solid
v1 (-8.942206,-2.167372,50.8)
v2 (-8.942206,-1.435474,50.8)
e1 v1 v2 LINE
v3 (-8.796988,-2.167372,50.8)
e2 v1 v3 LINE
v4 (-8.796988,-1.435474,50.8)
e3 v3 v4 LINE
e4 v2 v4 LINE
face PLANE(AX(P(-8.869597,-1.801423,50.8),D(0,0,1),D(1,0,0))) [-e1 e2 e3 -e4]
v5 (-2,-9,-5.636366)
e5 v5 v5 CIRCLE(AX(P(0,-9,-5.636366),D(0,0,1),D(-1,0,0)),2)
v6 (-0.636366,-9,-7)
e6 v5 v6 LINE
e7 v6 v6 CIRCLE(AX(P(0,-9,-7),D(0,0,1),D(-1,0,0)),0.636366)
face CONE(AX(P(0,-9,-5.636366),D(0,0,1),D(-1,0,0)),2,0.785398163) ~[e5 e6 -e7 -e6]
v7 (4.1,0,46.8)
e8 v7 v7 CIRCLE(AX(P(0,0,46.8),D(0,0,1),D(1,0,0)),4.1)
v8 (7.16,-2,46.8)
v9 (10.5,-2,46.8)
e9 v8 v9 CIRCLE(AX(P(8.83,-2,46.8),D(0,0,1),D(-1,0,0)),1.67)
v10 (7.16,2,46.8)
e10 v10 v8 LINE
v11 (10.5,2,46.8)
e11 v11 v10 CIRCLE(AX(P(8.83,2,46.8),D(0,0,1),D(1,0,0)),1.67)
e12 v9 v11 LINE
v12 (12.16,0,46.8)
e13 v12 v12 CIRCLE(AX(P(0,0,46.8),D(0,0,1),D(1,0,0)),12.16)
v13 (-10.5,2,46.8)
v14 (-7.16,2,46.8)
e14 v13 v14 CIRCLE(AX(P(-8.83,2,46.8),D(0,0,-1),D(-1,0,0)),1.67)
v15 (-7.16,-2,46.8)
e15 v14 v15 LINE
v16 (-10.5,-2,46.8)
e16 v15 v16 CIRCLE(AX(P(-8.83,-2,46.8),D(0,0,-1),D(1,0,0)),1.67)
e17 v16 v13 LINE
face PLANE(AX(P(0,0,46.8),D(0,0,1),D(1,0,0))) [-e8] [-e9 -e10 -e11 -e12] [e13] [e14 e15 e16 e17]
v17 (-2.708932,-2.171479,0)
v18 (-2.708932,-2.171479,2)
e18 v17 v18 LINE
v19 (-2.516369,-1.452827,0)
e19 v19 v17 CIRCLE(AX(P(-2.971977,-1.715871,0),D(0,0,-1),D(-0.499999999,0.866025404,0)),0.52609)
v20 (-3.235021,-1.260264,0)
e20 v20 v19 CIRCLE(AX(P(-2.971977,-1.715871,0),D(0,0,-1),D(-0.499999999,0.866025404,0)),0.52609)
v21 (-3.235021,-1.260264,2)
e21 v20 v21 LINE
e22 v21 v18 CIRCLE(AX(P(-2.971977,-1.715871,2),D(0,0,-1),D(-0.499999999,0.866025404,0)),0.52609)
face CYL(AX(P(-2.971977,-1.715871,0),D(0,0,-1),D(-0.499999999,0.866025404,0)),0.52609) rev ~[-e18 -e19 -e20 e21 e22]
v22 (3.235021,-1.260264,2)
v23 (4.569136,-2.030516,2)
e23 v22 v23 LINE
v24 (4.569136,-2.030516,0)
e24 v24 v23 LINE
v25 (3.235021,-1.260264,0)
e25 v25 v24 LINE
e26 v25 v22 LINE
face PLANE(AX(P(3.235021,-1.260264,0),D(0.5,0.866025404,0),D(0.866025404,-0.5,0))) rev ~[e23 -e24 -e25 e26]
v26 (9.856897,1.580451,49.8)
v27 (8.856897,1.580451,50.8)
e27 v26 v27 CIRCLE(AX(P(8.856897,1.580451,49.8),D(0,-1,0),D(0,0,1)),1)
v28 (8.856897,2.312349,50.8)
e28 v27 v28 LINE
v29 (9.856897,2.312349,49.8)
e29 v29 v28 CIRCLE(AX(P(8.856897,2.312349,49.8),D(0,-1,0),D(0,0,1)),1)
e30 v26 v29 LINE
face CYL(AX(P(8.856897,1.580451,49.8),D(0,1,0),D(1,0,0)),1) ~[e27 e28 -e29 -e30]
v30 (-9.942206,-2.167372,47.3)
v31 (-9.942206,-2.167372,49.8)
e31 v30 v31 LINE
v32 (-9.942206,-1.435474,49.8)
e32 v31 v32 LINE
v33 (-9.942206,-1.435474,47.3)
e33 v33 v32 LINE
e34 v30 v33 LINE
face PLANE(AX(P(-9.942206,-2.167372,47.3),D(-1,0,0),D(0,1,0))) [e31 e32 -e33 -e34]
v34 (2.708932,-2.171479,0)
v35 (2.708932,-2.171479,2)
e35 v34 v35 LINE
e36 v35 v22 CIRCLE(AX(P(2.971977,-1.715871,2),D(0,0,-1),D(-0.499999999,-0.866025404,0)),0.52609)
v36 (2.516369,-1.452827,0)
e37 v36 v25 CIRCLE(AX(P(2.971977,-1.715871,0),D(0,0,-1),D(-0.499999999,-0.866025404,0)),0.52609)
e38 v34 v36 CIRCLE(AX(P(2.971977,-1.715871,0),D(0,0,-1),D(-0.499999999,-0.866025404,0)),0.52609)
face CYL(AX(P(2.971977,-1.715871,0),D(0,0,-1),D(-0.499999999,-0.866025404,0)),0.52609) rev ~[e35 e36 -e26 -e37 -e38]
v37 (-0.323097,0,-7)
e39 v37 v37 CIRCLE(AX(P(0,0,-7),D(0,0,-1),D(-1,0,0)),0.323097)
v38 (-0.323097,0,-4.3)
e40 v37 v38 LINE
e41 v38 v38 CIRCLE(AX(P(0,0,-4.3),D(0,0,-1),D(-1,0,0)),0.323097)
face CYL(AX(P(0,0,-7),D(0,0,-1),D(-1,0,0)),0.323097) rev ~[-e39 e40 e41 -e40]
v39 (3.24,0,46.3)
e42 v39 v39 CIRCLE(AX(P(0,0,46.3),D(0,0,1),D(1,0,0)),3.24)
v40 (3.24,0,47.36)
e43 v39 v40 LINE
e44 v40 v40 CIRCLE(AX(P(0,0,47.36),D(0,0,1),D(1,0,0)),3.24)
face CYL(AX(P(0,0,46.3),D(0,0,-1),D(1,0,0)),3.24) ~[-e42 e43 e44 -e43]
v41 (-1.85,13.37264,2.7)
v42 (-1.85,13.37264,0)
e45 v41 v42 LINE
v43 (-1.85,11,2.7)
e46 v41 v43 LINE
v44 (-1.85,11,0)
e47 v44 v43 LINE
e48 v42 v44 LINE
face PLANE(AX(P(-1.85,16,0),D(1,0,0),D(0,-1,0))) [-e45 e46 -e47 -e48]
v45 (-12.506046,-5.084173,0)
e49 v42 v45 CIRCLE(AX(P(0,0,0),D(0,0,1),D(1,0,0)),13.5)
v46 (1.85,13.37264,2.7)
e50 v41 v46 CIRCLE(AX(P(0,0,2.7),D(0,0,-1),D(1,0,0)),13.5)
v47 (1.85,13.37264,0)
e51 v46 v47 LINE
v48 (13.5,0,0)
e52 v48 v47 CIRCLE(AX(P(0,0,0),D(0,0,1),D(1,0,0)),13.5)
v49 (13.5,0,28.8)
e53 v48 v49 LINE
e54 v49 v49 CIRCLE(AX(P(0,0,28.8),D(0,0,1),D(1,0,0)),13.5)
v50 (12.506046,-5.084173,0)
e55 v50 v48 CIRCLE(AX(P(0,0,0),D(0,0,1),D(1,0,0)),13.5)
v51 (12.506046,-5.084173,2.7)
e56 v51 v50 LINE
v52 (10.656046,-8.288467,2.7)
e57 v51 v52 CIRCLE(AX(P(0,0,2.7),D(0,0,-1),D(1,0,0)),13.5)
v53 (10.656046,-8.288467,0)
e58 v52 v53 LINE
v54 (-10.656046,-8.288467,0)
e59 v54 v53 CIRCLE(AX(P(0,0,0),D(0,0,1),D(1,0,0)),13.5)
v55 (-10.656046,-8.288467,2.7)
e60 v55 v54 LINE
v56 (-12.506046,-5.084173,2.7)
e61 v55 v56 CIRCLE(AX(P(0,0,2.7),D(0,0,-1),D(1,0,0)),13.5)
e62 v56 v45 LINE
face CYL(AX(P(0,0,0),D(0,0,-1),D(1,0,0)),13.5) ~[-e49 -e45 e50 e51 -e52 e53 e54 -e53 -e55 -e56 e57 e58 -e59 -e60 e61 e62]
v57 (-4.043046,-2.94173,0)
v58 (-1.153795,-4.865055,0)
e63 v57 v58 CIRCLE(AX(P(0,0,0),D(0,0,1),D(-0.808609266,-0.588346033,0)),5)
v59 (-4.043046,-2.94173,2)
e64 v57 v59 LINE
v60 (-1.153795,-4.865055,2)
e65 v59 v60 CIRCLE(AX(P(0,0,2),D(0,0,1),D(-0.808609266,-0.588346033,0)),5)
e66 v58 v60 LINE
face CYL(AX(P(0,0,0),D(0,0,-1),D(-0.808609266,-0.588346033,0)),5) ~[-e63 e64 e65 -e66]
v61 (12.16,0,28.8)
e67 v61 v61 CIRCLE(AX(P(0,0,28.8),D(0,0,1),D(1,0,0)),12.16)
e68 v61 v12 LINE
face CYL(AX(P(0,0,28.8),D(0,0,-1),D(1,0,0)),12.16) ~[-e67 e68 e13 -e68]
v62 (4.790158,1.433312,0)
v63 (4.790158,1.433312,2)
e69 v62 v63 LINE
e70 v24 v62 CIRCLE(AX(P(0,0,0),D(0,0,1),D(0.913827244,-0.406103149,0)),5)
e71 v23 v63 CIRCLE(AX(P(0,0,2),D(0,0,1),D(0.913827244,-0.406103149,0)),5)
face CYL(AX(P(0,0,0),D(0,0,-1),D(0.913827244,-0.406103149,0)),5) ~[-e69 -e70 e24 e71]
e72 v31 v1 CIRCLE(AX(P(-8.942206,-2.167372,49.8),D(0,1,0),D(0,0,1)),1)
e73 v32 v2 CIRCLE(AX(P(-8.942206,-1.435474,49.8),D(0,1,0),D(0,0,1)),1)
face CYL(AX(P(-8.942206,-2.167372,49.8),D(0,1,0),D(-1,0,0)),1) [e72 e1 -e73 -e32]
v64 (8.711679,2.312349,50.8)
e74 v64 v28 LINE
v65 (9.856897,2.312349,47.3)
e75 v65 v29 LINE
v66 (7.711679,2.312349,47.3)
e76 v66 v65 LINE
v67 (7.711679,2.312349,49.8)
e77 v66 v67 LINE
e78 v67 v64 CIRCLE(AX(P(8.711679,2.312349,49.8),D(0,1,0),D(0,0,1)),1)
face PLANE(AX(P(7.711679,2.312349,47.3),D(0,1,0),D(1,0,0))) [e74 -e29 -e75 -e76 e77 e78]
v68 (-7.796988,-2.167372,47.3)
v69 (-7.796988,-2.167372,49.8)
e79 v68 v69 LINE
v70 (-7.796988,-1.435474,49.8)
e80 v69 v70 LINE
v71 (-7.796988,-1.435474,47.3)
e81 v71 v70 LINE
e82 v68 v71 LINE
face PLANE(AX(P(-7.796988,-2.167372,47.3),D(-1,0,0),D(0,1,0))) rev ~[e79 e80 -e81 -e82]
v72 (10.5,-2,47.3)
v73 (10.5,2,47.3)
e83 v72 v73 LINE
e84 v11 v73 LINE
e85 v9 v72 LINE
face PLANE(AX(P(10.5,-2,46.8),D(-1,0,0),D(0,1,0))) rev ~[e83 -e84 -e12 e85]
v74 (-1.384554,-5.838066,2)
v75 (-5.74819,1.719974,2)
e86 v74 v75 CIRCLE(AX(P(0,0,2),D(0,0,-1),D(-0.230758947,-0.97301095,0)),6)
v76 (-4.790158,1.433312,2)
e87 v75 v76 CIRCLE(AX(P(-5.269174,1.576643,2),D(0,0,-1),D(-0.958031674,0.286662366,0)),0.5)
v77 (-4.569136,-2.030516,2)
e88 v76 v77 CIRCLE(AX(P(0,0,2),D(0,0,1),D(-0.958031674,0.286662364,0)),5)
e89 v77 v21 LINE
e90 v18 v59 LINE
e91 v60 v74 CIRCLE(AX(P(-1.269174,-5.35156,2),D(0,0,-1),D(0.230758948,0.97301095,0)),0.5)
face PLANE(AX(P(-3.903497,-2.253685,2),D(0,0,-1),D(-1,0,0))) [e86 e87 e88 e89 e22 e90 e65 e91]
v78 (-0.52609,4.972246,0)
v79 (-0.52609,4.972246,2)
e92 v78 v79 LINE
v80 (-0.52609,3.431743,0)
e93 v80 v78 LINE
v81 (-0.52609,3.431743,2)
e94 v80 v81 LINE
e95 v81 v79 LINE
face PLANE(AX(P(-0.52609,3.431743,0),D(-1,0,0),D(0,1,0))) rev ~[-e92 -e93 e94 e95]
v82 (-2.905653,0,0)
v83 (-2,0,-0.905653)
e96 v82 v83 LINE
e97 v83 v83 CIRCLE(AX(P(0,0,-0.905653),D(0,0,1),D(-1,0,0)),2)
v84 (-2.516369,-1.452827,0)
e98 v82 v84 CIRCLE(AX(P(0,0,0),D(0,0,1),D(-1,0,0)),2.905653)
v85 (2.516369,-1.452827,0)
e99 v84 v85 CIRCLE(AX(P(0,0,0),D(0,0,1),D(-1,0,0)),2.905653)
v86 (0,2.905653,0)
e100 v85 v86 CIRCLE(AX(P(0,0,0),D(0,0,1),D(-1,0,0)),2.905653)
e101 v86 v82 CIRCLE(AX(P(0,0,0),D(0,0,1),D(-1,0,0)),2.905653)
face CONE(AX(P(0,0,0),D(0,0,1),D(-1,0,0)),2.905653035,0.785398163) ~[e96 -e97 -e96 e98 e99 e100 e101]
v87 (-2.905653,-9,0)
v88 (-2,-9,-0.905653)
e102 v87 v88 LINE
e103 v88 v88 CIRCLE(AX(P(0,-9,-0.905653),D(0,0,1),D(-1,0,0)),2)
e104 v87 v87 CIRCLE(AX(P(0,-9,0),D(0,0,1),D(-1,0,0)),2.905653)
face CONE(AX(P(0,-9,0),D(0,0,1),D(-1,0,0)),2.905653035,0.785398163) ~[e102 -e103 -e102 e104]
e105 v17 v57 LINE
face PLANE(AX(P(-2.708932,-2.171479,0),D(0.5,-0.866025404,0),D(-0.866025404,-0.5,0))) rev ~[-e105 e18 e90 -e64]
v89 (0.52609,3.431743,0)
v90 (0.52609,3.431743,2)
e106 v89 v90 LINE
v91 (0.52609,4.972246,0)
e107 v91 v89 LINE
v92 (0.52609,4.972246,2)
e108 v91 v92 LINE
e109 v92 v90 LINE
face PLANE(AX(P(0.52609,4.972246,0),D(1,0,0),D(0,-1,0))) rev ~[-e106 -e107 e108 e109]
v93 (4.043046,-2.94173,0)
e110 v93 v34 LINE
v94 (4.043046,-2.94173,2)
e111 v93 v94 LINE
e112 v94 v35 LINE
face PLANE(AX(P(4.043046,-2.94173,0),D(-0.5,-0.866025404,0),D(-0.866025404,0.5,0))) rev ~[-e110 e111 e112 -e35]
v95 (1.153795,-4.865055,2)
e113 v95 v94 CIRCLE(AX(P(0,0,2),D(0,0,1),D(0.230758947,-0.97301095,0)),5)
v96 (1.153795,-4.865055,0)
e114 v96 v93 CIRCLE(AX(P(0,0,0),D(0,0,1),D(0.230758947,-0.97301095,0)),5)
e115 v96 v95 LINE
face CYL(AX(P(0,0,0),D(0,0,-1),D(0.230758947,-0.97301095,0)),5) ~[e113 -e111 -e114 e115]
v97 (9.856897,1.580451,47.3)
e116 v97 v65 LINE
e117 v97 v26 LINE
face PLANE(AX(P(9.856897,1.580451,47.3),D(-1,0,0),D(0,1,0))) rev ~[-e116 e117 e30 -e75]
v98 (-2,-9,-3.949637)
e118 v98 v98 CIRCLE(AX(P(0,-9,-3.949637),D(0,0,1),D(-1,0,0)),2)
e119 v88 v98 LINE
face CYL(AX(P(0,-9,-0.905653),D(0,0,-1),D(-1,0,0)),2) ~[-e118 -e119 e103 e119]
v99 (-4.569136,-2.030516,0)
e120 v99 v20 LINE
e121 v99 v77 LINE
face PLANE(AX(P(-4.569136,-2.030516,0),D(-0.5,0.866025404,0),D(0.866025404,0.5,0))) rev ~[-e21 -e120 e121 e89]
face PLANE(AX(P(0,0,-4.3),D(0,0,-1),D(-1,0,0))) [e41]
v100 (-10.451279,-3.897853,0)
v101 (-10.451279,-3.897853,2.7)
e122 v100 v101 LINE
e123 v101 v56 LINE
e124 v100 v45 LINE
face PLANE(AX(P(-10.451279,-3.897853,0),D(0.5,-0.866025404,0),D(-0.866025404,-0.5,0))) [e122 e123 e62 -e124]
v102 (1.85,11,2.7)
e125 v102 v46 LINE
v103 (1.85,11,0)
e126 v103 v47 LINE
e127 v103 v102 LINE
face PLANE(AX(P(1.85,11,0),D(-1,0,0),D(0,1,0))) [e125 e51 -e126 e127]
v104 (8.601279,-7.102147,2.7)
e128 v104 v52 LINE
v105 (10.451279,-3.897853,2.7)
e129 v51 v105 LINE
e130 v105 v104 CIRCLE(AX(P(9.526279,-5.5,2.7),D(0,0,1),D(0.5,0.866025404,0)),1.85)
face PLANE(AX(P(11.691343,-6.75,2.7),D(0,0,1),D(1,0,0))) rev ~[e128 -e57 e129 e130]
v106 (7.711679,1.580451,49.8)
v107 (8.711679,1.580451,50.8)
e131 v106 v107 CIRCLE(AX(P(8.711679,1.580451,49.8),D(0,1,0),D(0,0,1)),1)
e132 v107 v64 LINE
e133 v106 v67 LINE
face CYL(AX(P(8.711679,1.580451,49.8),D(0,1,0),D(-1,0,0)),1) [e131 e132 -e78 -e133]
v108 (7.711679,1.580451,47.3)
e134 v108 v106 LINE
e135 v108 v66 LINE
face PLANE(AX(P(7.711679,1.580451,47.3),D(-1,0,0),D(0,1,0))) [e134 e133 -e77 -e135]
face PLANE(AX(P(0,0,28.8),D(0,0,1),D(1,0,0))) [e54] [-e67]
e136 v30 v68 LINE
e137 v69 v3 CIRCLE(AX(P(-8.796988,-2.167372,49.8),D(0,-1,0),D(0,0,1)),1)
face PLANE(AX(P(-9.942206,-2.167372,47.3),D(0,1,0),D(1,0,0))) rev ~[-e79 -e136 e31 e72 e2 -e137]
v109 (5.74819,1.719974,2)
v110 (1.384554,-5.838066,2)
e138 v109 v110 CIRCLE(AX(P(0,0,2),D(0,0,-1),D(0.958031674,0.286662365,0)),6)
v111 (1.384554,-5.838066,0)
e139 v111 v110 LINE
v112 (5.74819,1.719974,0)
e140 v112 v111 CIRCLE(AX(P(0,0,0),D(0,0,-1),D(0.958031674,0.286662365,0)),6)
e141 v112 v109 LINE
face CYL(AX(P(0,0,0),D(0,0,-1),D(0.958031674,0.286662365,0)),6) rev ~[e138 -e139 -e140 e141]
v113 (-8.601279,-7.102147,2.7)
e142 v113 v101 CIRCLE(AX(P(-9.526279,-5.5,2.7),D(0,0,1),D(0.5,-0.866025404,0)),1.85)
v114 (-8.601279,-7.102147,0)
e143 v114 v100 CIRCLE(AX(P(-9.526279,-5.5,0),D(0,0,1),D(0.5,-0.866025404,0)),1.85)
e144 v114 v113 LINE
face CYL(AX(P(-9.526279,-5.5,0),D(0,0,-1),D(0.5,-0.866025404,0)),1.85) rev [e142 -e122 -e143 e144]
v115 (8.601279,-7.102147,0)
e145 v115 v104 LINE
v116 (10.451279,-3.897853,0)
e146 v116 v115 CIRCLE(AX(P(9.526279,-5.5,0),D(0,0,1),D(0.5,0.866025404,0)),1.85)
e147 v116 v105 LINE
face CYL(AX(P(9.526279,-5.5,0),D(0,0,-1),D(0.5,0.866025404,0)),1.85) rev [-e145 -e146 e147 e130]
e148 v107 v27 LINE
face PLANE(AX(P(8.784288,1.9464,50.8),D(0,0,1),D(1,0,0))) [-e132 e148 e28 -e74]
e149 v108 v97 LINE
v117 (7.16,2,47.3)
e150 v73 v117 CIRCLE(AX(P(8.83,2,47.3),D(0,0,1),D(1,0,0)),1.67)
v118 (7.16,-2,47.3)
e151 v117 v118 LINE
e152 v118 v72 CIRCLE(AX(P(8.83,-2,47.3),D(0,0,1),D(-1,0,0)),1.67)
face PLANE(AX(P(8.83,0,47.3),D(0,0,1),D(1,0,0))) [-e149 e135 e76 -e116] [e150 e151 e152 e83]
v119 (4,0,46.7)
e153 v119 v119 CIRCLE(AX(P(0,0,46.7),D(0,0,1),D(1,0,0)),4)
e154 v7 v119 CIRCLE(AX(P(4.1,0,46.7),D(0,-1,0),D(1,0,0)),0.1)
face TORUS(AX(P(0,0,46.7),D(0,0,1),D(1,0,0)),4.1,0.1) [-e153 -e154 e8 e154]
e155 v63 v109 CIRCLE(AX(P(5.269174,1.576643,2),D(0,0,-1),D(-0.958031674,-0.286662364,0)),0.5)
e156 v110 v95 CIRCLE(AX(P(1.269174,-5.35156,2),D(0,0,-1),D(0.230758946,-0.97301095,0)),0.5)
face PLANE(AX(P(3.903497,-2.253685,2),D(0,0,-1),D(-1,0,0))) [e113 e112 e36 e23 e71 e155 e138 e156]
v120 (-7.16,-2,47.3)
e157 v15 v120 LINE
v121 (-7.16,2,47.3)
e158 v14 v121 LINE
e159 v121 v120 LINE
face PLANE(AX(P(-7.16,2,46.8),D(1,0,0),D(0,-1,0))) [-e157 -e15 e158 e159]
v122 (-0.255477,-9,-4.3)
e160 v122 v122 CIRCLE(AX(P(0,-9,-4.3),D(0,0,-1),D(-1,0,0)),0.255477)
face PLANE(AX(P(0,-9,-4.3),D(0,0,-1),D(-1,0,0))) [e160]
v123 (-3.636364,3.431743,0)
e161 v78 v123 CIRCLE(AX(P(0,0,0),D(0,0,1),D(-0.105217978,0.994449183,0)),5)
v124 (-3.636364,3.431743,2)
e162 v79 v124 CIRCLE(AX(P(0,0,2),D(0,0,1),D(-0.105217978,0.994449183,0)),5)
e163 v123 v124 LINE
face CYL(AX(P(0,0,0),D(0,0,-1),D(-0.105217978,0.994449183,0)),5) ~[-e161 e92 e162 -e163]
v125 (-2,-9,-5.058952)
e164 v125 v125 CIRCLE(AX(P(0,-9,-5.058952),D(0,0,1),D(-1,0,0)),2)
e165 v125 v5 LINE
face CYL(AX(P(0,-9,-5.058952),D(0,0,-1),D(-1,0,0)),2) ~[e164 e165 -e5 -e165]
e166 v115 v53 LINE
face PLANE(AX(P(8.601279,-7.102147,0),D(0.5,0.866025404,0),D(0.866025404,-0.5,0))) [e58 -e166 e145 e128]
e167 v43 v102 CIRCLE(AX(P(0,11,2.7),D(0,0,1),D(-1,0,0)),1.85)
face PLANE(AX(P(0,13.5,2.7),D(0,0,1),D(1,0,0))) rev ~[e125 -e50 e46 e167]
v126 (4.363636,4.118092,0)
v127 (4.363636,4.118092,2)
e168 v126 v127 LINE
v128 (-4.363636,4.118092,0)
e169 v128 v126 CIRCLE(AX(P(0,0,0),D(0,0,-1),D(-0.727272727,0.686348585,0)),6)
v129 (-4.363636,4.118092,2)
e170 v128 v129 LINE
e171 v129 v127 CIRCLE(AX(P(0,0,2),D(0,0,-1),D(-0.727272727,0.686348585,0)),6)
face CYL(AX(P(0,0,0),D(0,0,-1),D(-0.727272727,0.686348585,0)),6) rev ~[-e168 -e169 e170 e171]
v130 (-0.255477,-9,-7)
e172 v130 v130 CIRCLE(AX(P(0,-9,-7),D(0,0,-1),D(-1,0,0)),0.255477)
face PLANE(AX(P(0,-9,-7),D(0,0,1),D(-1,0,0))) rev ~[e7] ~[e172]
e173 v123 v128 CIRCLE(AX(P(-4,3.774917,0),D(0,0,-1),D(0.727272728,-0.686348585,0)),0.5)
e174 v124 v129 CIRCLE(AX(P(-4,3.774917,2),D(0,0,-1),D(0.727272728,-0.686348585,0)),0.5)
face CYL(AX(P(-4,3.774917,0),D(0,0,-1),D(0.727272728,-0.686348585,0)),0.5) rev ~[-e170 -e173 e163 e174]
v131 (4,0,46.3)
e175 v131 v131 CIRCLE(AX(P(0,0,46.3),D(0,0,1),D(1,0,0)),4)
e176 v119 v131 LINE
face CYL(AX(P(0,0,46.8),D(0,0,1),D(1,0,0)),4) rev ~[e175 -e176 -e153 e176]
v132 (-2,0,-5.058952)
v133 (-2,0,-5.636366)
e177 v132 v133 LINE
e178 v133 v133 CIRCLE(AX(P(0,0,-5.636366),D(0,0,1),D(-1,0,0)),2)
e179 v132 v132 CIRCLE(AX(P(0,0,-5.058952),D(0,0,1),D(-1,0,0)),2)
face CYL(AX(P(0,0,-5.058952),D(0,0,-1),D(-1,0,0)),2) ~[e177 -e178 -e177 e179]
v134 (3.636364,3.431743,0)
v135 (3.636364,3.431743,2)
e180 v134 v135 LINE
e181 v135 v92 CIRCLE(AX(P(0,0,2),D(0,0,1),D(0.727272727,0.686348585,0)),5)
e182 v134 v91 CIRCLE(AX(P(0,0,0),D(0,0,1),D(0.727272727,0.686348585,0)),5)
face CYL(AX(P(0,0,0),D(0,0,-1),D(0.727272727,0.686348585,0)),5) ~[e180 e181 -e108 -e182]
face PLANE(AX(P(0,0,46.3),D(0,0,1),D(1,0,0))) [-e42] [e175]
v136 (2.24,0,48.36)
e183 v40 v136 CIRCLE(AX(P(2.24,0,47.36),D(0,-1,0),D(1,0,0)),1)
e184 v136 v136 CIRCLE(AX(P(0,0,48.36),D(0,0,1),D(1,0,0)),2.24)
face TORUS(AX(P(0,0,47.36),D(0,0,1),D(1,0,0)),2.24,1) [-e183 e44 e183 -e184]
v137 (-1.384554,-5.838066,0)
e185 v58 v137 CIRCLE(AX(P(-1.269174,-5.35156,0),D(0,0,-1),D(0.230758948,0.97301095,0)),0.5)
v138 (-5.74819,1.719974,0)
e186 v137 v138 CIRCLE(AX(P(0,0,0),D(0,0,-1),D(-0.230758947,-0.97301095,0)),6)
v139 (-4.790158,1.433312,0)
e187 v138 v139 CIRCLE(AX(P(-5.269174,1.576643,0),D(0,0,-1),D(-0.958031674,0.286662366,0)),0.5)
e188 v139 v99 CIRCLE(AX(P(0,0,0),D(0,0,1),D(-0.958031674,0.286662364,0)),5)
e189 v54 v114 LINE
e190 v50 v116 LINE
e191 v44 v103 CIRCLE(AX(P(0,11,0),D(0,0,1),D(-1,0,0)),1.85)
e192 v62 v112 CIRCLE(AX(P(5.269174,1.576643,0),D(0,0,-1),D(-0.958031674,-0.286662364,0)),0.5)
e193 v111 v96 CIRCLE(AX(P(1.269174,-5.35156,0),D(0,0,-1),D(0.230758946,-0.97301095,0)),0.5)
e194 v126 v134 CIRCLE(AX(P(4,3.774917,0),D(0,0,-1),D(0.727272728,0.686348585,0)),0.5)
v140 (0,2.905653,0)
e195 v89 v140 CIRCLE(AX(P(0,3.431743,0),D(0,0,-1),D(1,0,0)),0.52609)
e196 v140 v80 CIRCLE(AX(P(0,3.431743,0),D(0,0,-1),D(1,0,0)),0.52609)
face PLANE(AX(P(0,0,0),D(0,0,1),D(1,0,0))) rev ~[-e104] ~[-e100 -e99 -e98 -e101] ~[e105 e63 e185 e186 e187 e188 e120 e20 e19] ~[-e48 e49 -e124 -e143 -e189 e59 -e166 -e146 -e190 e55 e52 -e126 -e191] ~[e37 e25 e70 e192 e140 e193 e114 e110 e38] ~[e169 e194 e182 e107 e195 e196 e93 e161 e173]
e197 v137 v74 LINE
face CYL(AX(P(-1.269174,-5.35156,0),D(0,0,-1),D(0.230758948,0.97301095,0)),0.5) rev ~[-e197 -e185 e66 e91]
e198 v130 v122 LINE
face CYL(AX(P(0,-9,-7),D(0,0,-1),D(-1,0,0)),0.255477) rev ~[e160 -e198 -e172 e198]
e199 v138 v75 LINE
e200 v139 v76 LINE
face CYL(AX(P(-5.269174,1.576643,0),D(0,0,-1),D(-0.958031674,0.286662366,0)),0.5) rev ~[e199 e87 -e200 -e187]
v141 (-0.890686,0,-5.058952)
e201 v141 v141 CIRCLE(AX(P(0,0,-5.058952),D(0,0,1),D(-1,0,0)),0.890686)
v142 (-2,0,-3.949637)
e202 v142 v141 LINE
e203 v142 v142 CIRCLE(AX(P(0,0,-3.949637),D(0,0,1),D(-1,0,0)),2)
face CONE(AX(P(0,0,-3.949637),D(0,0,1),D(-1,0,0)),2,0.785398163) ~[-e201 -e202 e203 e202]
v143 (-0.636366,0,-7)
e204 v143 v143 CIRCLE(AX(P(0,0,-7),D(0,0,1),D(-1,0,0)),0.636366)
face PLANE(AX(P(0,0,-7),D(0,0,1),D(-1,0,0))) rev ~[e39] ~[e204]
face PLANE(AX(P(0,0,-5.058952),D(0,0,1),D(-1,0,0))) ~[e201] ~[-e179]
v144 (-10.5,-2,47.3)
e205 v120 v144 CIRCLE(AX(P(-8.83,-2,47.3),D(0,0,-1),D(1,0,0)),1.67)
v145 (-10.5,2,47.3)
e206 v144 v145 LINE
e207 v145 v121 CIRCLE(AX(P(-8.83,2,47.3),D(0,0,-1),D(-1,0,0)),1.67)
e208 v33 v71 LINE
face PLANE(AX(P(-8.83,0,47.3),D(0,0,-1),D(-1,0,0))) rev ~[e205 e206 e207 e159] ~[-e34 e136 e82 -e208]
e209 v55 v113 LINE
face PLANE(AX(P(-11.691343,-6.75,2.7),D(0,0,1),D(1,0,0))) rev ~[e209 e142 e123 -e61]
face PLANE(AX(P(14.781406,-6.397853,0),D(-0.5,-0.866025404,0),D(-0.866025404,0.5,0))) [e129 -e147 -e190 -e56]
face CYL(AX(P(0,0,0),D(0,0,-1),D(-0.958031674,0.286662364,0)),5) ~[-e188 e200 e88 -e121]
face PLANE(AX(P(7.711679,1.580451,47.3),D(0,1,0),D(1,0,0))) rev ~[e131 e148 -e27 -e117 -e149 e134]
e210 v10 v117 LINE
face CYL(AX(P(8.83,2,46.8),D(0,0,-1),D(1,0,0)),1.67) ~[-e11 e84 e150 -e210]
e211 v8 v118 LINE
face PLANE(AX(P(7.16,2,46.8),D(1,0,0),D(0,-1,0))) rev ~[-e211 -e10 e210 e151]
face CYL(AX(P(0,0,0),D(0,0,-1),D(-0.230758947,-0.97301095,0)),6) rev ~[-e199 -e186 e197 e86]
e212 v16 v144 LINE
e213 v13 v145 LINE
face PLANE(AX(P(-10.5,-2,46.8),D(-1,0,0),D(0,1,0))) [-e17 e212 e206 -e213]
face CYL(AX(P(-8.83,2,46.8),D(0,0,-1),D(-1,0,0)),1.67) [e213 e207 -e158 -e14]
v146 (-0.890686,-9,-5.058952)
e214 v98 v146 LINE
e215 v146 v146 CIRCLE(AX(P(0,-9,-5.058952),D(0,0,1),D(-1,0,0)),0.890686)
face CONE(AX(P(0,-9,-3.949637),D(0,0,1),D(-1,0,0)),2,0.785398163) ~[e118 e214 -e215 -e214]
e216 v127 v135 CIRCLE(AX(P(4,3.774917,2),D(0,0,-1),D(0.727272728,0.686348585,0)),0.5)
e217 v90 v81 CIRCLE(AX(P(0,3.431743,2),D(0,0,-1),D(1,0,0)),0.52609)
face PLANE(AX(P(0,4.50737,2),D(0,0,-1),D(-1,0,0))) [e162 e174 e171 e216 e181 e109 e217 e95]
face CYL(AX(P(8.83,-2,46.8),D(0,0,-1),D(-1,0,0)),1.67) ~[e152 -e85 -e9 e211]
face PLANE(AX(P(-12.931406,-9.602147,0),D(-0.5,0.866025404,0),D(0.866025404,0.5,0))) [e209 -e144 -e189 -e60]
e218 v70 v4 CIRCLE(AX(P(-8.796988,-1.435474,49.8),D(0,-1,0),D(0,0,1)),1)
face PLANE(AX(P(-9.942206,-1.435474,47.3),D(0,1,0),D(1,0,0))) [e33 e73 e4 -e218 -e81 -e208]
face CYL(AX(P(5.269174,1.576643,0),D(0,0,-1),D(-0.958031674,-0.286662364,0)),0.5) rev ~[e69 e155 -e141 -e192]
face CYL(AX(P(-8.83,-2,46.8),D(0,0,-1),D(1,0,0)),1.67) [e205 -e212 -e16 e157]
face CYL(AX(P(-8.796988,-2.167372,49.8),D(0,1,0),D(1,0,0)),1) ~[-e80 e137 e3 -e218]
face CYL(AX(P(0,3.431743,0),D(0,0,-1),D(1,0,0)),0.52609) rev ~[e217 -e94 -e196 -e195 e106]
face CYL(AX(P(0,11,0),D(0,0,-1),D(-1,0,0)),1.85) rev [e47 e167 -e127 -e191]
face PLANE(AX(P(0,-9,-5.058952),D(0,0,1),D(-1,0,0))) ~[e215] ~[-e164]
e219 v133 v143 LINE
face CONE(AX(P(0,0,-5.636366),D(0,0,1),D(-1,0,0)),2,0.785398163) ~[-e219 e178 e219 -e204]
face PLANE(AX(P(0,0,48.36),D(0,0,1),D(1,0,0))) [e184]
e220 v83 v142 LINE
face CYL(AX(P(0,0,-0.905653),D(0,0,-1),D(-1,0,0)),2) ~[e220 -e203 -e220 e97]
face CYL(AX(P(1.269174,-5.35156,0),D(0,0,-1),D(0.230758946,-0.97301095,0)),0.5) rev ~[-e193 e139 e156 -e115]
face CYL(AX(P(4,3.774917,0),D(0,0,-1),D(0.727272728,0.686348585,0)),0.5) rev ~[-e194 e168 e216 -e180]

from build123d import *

# Parameters (mm, degrees)
SKETCH_1_R             = 13.5
EXTRUDE_1_DEPTH        = 28.8
SKETCH_2_R             = 12.16
EXTRUDE_2_DEPTH        = 18
SKETCH_3_R             = 4
CUT_EXTRUDE_1_DEPTH    = 0.5
SKETCH_4_R             = 3.24
EXTRUDE_3_DEPTH        = 2.06
FILLET_1_R             = 0.1
FILLET_2_R             = 1
EXTRUDE_4_DEPTH        = 0.5
SKETCH_6_W             = 2.145218315
SKETCH_6_H             = 0.731898013
SKETCH_6_W_2           = 2.145218314
SKETCH_6_H_2           = 0.731898014
EXTRUDE_5_DEPTH        = 3.5
FILLET_3_R             = 1
CUT_EXTRUDE_2_DEPTH    = 2.7
PATTERN_LINEAR_1_COUNT = 2
PATTERN_LINEAR_1_PITCH = 9
SKETCH_10_R            = 0.323097308
CUT_EXTRUDE_3_DEPTH    = 2.7
SKETCH_13_R            = 0.255477279
CUT_EXTRUDE_4_DEPTH    = 2.7
CUT_EXTRUDE_5_DEPTH    = 2


with BuildPart() as part:
    # 草图1 → 凸台-拉伸1 (new body)
    with BuildSketch(Plane.XY):
        Circle(SKETCH_1_R)
    extrude(amount=EXTRUDE_1_DEPTH)

    # 草图2 → 凸台-拉伸2 (add)
    with BuildSketch(Plane.XY.offset(28.8)):
        Circle(SKETCH_2_R)
    extrude(amount=EXTRUDE_2_DEPTH)

    # 草图3 → 切除-拉伸1 (cut)
    with BuildSketch(Plane.XY.offset(46.8)):
        Circle(SKETCH_3_R)
    extrude(amount=-CUT_EXTRUDE_1_DEPTH, mode=Mode.SUBTRACT)

    # 草图4 → 凸台-拉伸3 (add)
    with BuildSketch(Plane.XY.offset(46.3)):
        Circle(SKETCH_4_R)
    extrude(amount=EXTRUDE_3_DEPTH)

    # 圆角1
    fillet_1_edges = [part.edges().sort_by_distance(p)[0] for p in [
        (-4, 0, 46.8),
    ]]
    fillet(fillet_1_edges, radius=FILLET_1_R)

    # 圆角2
    fillet_2_edges = [part.edges().sort_by_distance(p)[0] for p in [
        (-3.24, 0, 48.36),
    ]]
    fillet(fillet_2_edges, radius=FILLET_2_R)

    # 草图5 → 凸台-拉伸4 (add)
    with BuildSketch(Plane.XY.offset(46.8)):
        with BuildLine():
            Line((-7.16, 2), (-7.16, -2))
            ThreePointArc((-7.16, -2), (-8.83, -3.67), (-10.5, -2))
            Line((-10.5, -2), (-10.5, 2))
            ThreePointArc((-10.5, 2), (-8.83, 3.67), (-7.16, 2))
        make_face()
        with BuildLine():
            Line((7.16, 2), (7.16, -2))
            ThreePointArc((7.16, -2), (8.83, -3.67), (10.5, -2))
            Line((10.5, -2), (10.5, 2))
            ThreePointArc((10.5, 2), (8.83, 3.67), (7.16, 2))
        make_face()
    extrude(amount=EXTRUDE_4_DEPTH)

    # 草图6 → 凸台-拉伸5 (add)
    with BuildSketch(Plane.XY.offset(47.3)):
        with Locations((-8.86959666, -1.801422961)):
            Rectangle(SKETCH_6_W, SKETCH_6_H)
        with Locations((8.784288178, 1.946399625)):
            Rectangle(SKETCH_6_W_2, SKETCH_6_H_2)
    extrude(amount=EXTRUDE_5_DEPTH)

    # 圆角3
    fillet_3_edges = [part.edges().sort_by_distance(p)[0] for p in [
        (7.711679021, 1.946399625, 50.8),
        (9.856897335, 1.946399625, 50.8),
        (-9.942205817, -1.80142296, 50.8),
        (-7.796987502, -1.80142296, 50.8),
    ]]
    fillet(fillet_3_edges, radius=FILLET_3_R)

    # 草图7 → 切除-拉伸2 (cut)
    with BuildSketch(Plane(origin=(0, 0, 0), x_dir=(-1, 0, 0), z_dir=(0, 0, -1))):
        with BuildLine():
            Line((1.85, 16), (1.85, 11))
            ThreePointArc((1.85, 11), (0, 9.15), (-1.85, 11))
            Line((-1.85, 11), (-1.85, 16))
            ThreePointArc((-1.85, 16), (0, 17.85), (1.85, 16))
        make_face()
        with BuildLine():
            Line((12.931406461, -9.602146997), (8.601279442, -7.102146997))
            ThreePointArc((8.601279442, -7.102146997), (7.924132445, -4.575), (10.451279442, -3.897853003))
            Line((10.451279442, -3.897853003), (14.781406461, -6.397853003))
            ThreePointArc((14.781406461, -6.397853003), (15.458553458, -8.925), (12.931406461, -9.602146997))
        make_face()
        with BuildLine():
            Line((-14.781406461, -6.397853003), (-10.451279442, -3.897853003))
            ThreePointArc((-10.451279442, -3.897853003), (-7.924132445, -4.575), (-8.601279442, -7.102146997))
            Line((-8.601279442, -7.102146997), (-12.931406461, -9.602146997))
            ThreePointArc((-12.931406461, -9.602146997), (-15.458553458, -8.925), (-14.781406461, -6.397853003))
        make_face()
    extrude(amount=-CUT_EXTRUDE_2_DEPTH, mode=Mode.SUBTRACT)

    # 草图9 → 旋转1 (revolve)
    with BuildSketch(Plane(origin=(0, 0, 0), x_dir=(1, 0, 0), z_dir=(0, 1, 0))):
        Polygon((0, 7), (0, 0), (-2.905653035, 0), (-2, 0.905653035), (-2, 3.949637413), (-0.890685833, 5.05895158), (-2, 5.05895158), (-2, 5.636365699), (-0.636365699, 7), align=None)
    revolve_1 = revolve(axis=Axis((0, 0, -8.873463159), (0, 0, 1)))

    # 阵列(线性)1: 旋转1 ×2
    with Locations(*[(0, -i * PATTERN_LINEAR_1_PITCH, 0) for i in range(1, PATTERN_LINEAR_1_COUNT)]):
        add(revolve_1)

    # 草图10 → 切除-拉伸3 (cut)
    with BuildSketch(Plane(origin=(0, 0, -7), x_dir=(-1, 0, 0), z_dir=(0, 0, -1))):
        Circle(SKETCH_10_R)
    extrude(amount=-CUT_EXTRUDE_3_DEPTH, mode=Mode.SUBTRACT)

    # 草图13 → 切除-拉伸4 (cut)
    with BuildSketch(Plane(origin=(0, 0, -7), x_dir=(-1, 0, 0), z_dir=(0, 0, -1))):
        with Locations((0, -9)):
            Circle(SKETCH_13_R)
    extrude(amount=-CUT_EXTRUDE_4_DEPTH, mode=Mode.SUBTRACT)

    # 草图14 → 切除-拉伸5 (cut)
    with BuildSketch(Plane(origin=(0, 0, 0), x_dir=(-1, 0, 0), z_dir=(0, 0, -1))):
        with BuildLine():
            Line((-0.52608989, 4.972245914), (-0.52608989, 3.431742925))
            ThreePointArc((-0.52608989, 3.431742925), (0, 2.905653035), (0.52608989, 3.431742925))
            Line((0.52608989, 3.431742925), (0.52608989, 4.972245914))
            ThreePointArc((0.52608989, 4.972245914), (2.219187285, 4.480536552), (3.636363636, 3.431742925))
            ThreePointArc((3.636363636, 3.431742925), (4.343174293, 3.411280854), (4.363636364, 4.11809151))
            ThreePointArc((4.363636364, 4.11809151), (0, 6), (-4.363636364, 4.11809151))
            ThreePointArc((-4.363636364, 4.11809151), (-4.343174293, 3.411280854), (-3.636363636, 3.431742925))
            ThreePointArc((-3.636363636, 3.431742925), (-2.219187285, 4.480536552), (-0.52608989, 4.972245914))
        make_face()
        with BuildLine():
            Line((2.708931608, -2.171478672), (4.04304633, -2.941730166))
            ThreePointArc((4.04304633, -2.941730166), (2.770664835, -4.16214084), (1.153794734, -4.865054749))
            ThreePointArc((1.153794734, -4.865054749), (0.782668733, -5.466939697), (1.384553681, -5.838065699))
            ThreePointArc((1.384553681, -5.838065699), (5.196152423, -3), (5.748190045, 1.719974189))
            ThreePointArc((5.748190045, 1.719974189), (5.125843025, 2.055658843), (4.790158371, 1.433311824))
            ThreePointArc((4.790158371, 1.433311824), (4.989852119, -0.318395712), (4.56913622, -2.030515748))
            Line((4.56913622, -2.030515748), (3.235021497, -1.260264253))
            ThreePointArc((3.235021497, -1.260264253), (2.516369343, -1.452826518), (2.708931608, -2.171478672))
        make_face()
        with BuildLine():
            Line((-3.235021497, -1.260264253), (-4.56913622, -2.030515748))
            ThreePointArc((-4.56913622, -2.030515748), (-4.989852119, -0.318395712), (-4.790158371, 1.433311824))
            ThreePointArc((-4.790158371, 1.433311824), (-5.125843025, 2.055658843), (-5.748190045, 1.719974189))
            ThreePointArc((-5.748190045, 1.719974189), (-5.196152423, -3), (-1.384553681, -5.838065699))
            ThreePointArc((-1.384553681, -5.838065699), (-0.782668733, -5.466939697), (-1.153794734, -4.865054749))
            ThreePointArc((-1.153794734, -4.865054749), (-2.770664835, -4.16214084), (-4.04304633, -2.941730166))
            Line((-4.04304633, -2.941730166), (-2.708931608, -2.171478672))
            ThreePointArc((-2.708931608, -2.171478672), (-2.516369343, -1.452826518), (-3.235021497, -1.260264253))
        make_face()
    extrude(amount=-CUT_EXTRUDE_5_DEPTH, mode=Mode.SUBTRACT)


solid = part.part
